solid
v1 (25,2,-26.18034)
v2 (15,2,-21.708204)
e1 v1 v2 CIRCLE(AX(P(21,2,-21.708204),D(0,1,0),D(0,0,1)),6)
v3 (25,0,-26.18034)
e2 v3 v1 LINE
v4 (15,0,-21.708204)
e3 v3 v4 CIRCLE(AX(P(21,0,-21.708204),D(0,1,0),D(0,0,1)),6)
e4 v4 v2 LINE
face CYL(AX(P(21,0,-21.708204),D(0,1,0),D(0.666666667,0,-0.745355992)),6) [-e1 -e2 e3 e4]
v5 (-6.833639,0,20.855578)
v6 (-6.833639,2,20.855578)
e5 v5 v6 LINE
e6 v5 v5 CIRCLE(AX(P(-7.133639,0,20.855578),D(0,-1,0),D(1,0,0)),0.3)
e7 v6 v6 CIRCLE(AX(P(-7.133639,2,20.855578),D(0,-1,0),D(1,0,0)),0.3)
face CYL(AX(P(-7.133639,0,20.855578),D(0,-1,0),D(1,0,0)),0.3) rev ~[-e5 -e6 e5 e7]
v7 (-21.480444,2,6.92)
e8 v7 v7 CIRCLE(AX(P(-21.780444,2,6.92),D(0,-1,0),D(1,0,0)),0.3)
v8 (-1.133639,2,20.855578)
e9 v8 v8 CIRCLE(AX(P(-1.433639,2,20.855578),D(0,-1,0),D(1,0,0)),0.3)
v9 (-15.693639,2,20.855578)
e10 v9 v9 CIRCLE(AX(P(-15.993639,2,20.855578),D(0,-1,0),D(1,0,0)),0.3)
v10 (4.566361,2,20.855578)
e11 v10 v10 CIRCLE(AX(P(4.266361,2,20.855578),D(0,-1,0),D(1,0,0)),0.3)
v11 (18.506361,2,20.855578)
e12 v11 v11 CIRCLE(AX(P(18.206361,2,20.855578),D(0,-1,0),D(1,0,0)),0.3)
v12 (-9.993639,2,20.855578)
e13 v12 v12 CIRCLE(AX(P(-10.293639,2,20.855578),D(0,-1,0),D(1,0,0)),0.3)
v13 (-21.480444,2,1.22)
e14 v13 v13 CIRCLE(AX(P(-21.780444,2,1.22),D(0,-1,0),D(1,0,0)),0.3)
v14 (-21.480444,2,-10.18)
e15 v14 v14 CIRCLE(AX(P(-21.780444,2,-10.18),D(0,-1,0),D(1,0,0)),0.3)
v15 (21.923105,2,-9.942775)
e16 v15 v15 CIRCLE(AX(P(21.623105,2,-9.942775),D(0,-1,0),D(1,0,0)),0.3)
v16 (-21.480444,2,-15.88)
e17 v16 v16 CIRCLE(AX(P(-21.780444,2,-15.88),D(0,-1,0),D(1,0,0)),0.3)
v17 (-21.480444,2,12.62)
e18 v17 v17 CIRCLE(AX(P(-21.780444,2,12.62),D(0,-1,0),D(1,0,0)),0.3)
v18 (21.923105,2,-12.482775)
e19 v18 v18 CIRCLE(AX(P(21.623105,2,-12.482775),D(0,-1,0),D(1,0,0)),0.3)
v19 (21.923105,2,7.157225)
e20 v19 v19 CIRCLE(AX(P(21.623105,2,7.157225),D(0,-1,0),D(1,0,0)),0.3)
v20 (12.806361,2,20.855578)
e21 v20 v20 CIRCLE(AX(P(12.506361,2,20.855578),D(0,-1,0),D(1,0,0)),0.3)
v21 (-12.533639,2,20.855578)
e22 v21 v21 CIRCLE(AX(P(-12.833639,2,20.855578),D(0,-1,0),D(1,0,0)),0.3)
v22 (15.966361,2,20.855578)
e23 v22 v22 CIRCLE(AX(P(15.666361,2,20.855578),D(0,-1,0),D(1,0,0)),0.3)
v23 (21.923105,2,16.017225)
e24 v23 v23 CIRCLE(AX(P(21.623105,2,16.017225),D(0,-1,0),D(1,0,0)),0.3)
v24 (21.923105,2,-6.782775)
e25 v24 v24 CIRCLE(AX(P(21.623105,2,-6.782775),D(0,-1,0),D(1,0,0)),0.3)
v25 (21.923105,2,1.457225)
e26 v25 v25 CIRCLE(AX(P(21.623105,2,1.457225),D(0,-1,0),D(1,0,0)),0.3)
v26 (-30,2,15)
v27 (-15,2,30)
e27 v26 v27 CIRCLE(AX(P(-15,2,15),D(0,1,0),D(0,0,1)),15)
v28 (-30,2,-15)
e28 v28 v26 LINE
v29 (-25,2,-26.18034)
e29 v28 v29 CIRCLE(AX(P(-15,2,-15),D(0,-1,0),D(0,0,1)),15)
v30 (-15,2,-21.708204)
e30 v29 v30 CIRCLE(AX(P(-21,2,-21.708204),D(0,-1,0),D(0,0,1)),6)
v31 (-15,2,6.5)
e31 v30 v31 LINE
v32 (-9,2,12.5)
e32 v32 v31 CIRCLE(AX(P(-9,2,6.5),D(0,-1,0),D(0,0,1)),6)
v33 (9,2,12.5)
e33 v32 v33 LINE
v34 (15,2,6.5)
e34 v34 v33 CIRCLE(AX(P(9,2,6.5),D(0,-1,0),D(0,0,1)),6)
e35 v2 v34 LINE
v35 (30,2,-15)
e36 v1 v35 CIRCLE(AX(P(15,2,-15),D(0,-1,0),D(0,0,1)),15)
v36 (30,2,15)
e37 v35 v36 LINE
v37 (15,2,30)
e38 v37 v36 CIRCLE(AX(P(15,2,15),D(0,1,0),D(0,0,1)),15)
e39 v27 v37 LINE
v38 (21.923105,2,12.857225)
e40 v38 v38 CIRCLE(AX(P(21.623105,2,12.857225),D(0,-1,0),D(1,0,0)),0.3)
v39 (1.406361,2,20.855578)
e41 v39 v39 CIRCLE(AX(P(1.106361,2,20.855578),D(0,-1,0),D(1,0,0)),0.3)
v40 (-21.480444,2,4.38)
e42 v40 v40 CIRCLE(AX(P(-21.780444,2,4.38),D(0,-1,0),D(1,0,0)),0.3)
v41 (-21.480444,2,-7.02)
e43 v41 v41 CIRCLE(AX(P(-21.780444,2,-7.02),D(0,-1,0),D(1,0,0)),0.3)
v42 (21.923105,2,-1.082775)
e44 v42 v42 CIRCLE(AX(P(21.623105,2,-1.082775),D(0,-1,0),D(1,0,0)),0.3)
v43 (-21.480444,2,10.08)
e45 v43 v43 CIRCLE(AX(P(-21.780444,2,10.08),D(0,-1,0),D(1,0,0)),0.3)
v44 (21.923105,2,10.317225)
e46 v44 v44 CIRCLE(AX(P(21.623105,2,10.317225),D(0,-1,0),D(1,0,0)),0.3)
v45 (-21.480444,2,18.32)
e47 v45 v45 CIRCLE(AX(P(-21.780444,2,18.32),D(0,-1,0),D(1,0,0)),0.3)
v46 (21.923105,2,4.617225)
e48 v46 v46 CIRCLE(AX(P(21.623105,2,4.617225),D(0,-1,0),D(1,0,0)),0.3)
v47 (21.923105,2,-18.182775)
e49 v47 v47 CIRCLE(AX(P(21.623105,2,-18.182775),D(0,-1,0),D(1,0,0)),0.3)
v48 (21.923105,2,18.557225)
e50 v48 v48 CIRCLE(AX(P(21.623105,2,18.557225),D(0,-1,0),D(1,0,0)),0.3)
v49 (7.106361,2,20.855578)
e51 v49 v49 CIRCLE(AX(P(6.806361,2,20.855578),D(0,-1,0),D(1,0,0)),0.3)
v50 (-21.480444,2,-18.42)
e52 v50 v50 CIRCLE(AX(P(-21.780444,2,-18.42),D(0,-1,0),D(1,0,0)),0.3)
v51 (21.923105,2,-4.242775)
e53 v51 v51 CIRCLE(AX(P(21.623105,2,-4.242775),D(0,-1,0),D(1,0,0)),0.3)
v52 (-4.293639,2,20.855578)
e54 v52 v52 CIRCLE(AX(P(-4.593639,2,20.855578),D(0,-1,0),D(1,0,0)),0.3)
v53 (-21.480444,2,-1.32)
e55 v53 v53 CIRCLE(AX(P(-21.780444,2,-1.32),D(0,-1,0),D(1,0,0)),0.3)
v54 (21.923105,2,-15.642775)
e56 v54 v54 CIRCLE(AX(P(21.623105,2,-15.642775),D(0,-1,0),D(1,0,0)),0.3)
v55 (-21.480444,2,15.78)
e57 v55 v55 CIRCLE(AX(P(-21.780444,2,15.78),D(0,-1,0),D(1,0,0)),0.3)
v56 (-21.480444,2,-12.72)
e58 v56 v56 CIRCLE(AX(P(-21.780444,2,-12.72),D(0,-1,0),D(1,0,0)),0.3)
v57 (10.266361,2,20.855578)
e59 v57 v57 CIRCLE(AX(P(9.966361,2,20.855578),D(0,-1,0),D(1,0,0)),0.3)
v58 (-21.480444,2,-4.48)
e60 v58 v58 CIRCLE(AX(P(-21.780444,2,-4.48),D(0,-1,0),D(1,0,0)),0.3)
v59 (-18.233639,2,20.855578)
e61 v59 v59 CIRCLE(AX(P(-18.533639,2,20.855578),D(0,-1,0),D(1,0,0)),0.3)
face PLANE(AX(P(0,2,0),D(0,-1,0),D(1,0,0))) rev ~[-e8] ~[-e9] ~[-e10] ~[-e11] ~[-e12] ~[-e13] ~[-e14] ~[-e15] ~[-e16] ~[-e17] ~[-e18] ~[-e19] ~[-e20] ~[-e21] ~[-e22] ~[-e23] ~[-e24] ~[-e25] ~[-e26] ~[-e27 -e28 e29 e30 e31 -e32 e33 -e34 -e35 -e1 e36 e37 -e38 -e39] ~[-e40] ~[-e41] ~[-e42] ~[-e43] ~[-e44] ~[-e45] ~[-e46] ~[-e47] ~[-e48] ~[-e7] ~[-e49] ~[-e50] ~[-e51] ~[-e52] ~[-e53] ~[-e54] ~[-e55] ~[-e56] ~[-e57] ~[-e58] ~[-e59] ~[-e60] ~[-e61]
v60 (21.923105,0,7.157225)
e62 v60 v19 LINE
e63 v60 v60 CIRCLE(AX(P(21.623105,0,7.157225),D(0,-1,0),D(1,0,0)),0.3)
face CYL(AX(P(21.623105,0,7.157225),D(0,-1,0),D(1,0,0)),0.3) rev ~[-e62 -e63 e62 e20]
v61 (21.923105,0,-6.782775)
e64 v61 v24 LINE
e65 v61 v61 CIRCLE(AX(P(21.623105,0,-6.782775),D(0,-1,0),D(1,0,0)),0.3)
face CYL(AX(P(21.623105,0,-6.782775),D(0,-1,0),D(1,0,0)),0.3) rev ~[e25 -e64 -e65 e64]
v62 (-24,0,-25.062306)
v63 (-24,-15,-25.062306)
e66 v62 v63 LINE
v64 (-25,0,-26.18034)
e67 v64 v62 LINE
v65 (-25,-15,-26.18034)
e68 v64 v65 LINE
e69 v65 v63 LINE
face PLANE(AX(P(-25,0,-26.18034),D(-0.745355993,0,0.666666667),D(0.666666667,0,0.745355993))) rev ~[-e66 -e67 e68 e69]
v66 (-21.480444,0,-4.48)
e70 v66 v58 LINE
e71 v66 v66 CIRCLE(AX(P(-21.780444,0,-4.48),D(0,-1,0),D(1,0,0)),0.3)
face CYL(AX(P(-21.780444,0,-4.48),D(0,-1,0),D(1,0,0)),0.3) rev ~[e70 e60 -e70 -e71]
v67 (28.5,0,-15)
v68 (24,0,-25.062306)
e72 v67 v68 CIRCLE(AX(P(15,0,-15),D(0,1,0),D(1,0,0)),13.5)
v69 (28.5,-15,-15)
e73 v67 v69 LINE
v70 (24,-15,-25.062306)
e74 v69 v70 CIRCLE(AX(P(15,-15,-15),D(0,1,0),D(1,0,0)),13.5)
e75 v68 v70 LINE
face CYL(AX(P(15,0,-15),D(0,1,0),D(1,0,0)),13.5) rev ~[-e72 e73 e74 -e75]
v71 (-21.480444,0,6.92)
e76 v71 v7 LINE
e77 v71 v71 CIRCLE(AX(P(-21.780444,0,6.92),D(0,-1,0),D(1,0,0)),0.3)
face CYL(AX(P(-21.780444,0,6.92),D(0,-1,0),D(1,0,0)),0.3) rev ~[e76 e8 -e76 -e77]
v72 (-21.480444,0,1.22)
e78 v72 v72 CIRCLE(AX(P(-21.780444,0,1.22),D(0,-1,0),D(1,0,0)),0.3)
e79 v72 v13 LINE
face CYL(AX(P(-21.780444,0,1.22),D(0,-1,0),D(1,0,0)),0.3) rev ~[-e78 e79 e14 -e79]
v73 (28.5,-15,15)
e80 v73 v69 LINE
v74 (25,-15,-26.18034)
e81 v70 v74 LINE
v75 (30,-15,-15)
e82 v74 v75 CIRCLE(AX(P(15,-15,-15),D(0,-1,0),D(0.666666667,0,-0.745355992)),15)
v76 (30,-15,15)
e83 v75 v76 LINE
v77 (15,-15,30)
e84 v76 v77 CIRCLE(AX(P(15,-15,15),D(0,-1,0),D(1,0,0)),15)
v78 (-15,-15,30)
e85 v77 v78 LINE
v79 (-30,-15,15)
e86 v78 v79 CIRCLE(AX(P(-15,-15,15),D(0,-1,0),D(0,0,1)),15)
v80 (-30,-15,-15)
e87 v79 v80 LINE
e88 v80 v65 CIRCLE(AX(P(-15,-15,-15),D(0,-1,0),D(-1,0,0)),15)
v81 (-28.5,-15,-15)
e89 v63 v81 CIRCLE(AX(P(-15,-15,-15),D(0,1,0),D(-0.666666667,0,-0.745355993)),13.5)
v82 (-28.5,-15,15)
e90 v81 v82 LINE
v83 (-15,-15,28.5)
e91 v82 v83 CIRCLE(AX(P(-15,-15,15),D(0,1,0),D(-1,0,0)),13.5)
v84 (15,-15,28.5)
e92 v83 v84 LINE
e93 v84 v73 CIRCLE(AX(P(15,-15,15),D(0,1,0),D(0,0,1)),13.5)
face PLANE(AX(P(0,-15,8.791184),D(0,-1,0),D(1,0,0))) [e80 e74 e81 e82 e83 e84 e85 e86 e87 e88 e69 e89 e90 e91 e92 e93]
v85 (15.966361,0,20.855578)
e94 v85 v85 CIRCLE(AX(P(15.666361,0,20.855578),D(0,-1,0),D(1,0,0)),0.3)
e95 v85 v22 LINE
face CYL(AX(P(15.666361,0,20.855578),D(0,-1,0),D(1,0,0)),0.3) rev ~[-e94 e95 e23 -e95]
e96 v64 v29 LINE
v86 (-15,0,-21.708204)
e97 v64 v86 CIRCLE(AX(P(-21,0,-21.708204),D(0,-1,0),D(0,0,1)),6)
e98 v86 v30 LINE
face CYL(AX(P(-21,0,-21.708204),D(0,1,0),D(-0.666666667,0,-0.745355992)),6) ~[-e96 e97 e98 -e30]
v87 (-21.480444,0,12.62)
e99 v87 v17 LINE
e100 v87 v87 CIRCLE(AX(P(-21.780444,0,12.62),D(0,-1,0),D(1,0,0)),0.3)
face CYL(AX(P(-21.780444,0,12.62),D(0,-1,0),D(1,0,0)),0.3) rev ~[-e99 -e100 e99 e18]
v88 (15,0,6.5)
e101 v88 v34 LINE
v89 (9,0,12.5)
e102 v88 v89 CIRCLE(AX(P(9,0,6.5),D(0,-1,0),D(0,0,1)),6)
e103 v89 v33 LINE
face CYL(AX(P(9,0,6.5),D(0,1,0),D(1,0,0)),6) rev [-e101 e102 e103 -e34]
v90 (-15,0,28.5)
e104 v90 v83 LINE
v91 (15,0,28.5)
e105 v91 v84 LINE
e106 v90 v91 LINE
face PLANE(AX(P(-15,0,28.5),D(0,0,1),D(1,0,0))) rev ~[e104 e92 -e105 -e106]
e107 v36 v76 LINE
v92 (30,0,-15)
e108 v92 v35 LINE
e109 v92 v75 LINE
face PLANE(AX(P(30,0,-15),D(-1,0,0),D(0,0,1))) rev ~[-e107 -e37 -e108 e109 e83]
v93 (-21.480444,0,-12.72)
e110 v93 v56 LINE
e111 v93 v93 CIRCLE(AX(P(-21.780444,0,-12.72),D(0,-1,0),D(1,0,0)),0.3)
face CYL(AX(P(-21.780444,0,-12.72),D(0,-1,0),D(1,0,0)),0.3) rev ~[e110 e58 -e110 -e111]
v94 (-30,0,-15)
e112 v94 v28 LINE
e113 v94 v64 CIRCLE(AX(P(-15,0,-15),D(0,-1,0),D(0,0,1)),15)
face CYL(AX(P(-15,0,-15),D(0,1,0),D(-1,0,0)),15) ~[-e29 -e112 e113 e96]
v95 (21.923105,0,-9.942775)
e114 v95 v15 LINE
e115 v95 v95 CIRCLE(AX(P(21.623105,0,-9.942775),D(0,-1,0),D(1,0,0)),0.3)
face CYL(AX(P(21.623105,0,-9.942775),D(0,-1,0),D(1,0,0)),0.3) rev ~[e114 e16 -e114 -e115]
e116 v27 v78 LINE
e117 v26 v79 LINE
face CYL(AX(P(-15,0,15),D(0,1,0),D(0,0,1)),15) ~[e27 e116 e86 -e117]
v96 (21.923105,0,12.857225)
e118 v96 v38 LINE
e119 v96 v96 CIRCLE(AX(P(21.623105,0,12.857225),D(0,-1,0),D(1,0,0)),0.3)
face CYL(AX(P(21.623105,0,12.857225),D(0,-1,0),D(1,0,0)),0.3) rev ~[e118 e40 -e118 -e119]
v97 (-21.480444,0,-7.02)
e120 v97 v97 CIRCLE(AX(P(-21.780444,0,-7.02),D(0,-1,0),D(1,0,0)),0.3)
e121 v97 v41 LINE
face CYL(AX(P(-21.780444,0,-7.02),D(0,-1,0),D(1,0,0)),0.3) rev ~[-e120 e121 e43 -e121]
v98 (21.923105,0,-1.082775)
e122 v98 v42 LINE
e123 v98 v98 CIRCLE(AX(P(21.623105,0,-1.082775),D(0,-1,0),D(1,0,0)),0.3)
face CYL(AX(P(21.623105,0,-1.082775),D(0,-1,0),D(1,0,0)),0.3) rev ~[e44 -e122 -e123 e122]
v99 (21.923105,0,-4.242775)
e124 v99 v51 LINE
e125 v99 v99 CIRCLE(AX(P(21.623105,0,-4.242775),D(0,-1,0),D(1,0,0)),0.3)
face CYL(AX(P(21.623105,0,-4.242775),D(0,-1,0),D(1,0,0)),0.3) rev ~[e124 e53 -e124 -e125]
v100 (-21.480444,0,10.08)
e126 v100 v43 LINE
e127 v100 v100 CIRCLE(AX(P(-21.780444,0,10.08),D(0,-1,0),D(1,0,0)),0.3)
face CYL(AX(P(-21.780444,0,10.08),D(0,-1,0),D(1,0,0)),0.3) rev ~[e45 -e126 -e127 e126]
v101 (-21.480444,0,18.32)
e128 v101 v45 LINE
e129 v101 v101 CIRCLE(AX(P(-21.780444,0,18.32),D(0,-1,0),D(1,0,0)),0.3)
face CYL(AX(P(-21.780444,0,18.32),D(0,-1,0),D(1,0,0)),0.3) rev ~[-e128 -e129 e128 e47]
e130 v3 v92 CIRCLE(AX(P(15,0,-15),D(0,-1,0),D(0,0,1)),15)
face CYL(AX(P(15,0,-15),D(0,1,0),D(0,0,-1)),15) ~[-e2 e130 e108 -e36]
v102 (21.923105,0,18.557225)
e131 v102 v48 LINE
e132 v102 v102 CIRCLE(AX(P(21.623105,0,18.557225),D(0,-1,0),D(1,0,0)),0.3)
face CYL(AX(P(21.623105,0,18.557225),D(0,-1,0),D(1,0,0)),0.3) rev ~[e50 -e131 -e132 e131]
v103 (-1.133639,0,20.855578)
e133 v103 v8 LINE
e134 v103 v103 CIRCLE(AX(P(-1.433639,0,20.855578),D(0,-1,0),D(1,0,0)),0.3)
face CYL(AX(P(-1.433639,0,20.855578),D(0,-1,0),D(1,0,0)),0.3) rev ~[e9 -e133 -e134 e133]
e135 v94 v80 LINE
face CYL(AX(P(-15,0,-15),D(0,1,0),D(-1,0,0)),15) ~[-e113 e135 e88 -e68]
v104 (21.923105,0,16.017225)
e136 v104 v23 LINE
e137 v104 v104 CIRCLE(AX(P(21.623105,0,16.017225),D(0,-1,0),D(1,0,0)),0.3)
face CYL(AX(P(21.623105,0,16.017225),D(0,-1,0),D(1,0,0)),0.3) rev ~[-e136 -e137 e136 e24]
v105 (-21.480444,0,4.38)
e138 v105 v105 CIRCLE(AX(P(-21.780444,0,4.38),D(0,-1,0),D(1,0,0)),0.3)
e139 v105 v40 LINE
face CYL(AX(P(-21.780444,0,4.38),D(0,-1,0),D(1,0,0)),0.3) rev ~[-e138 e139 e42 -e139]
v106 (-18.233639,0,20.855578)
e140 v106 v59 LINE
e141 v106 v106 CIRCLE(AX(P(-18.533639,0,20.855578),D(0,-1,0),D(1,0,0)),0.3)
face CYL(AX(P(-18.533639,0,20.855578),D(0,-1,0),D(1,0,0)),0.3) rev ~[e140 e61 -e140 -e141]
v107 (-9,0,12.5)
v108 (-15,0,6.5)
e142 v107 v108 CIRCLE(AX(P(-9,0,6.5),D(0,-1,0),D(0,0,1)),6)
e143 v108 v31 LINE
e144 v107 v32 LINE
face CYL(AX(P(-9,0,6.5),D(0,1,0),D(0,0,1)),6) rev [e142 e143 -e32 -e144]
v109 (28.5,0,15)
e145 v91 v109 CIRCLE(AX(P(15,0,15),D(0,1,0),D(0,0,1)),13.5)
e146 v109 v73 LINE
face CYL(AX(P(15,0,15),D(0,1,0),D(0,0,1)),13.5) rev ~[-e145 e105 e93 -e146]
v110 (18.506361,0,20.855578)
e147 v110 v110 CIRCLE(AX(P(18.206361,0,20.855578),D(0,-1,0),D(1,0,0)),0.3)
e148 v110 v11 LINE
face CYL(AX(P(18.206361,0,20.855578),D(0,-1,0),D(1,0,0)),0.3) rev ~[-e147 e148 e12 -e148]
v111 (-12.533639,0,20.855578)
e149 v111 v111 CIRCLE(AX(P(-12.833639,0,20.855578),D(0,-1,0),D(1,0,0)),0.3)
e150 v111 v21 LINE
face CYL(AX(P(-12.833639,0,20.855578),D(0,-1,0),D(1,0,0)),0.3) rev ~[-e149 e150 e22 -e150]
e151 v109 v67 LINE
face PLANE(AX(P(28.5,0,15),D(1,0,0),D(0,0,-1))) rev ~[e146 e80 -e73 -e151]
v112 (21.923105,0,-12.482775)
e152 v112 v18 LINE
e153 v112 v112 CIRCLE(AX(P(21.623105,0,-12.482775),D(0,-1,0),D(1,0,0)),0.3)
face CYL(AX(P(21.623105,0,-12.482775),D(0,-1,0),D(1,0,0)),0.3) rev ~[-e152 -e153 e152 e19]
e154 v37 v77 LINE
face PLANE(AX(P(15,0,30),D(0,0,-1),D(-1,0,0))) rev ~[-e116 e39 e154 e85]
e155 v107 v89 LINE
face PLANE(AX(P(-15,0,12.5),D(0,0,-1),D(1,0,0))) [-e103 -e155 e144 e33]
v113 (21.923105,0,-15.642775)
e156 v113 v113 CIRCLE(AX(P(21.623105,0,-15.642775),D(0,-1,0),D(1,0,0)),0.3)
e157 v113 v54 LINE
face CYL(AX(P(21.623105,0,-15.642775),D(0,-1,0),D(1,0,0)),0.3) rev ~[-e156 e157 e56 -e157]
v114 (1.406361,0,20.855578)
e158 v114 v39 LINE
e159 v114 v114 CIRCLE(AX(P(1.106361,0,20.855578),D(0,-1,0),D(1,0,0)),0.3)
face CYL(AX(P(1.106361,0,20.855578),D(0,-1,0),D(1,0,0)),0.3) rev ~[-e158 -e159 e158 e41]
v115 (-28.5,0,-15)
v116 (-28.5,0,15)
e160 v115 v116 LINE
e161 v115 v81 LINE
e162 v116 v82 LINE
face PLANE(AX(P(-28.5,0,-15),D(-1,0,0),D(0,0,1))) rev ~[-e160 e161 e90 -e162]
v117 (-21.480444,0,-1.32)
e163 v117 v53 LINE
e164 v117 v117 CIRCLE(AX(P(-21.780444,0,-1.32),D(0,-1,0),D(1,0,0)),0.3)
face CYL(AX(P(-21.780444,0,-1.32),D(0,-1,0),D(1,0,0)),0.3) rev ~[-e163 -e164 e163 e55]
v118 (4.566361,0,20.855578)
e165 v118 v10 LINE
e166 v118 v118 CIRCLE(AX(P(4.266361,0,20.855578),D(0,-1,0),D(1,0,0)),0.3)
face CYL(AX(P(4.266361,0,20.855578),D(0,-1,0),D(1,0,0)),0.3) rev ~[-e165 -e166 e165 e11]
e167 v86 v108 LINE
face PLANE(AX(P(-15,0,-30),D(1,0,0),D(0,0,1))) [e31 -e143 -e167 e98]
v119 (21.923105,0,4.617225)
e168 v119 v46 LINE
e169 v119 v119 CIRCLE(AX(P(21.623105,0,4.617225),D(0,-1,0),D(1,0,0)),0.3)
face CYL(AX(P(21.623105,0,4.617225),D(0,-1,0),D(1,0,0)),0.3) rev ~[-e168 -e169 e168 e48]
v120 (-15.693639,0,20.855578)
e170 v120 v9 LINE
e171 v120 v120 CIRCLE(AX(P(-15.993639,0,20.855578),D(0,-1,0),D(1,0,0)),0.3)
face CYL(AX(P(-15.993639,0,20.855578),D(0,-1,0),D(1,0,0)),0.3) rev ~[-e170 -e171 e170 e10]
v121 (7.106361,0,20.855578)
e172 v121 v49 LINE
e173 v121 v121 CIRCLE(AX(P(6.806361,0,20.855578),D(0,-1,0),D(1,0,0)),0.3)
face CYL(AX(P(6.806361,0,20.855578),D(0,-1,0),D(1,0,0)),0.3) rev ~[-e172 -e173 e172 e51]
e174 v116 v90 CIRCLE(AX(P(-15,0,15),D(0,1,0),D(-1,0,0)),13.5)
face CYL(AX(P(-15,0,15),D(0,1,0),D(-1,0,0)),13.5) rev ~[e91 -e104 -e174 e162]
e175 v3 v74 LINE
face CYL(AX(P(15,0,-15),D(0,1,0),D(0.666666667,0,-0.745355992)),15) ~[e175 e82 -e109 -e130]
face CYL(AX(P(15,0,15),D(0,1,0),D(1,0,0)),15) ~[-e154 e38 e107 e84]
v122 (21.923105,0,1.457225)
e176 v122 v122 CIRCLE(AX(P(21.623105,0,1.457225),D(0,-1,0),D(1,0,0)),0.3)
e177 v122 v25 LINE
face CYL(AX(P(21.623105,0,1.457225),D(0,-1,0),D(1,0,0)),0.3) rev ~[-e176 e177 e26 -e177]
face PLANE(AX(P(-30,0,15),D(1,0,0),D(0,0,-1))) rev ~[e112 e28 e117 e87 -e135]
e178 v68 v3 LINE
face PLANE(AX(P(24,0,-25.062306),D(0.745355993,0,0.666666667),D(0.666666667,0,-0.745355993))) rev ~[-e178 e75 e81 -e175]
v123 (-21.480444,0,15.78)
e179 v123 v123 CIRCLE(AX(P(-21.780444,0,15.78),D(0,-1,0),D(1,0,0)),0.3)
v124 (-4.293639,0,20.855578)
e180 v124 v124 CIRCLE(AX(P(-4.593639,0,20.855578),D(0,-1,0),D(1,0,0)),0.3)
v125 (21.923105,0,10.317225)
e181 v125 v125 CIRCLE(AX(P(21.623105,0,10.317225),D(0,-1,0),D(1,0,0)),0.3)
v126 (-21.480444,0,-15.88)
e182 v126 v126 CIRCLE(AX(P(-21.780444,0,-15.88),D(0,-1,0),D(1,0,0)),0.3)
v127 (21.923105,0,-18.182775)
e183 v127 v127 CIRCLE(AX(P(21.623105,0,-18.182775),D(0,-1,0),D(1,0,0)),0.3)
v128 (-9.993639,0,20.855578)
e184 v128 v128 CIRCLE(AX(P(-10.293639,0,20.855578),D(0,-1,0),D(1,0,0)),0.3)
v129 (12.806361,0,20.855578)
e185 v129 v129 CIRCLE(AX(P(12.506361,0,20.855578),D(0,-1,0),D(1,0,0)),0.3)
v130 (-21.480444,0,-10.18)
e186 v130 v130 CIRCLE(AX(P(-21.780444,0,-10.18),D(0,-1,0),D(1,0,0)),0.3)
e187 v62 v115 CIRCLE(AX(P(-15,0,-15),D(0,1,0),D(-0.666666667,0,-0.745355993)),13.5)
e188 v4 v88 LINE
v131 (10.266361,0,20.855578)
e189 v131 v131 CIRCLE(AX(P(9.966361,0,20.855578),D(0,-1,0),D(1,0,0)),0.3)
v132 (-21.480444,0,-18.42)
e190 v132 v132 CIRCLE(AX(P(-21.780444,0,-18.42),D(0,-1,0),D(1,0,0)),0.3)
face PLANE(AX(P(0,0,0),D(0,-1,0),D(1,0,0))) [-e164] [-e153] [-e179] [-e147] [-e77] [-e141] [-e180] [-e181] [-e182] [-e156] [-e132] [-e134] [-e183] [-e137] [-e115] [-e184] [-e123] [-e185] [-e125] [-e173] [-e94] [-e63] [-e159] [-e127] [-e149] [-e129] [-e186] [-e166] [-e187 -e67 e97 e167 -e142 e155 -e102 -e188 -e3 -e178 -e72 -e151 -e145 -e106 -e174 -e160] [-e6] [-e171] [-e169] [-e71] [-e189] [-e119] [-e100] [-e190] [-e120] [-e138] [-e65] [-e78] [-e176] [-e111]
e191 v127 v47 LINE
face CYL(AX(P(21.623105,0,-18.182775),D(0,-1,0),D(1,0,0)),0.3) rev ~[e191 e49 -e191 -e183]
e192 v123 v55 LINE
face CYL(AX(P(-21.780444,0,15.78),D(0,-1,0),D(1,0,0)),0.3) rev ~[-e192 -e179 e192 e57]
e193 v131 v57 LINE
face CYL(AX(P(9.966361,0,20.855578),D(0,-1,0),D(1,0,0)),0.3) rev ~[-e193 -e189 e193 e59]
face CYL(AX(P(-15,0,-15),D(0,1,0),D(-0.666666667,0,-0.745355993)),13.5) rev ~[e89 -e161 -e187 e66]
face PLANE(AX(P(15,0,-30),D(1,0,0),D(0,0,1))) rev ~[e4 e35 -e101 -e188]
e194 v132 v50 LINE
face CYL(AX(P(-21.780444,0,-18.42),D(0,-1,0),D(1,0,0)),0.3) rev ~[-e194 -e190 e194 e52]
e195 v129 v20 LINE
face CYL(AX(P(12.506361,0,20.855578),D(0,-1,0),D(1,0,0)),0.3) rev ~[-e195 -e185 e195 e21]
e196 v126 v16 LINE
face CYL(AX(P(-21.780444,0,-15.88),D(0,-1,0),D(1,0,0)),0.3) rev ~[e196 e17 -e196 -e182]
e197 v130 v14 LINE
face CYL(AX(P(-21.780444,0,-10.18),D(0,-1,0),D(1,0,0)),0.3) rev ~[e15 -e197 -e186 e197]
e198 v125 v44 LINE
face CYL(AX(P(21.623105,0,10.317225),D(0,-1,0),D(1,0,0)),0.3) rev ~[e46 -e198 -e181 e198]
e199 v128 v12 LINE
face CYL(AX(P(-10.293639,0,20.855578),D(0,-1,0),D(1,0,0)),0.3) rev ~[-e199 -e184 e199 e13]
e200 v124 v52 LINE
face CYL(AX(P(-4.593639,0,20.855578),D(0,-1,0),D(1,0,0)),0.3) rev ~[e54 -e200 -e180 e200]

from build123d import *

# Parameters (mm, degrees)
F1_W     = 60
F1_H     = 60
F2_DEPTH = 2
F0_R     = 0.3
F3_DEPTH = 2
F4_R     = 15
F5_W     = 30
F5_H     = 42.5
F6_DEPTH = 2
F7_R     = 6
F9_DEPTH = 15


with BuildPart() as f2:
    # F1 (on Front) → F2 (new body)
    with BuildSketch(Plane.XZ):
        Rectangle(F1_W, F1_H)
    extrude(amount=-F2_DEPTH)

    # F0 (on Front) → F3 (cut)
    with BuildSketch(Plane.XZ):
        with Locations((-21.7804442346, 18.32)):
            Circle(F0_R)
        with Locations((-21.7804442346, 15.78)):
            Circle(F0_R)
        with Locations((-21.7804442346, 12.62)):
            Circle(F0_R)
        with Locations((-21.7804442346, 10.08)):
            Circle(F0_R)
        with Locations((-21.7804442346, 6.92)):
            Circle(F0_R)
        with Locations((-21.7804442346, 4.38)):
            Circle(F0_R)
        with Locations((-21.7804442346, 1.22)):
            Circle(F0_R)
        with Locations((-21.7804442346, -1.32)):
            Circle(F0_R)
        with Locations((-21.7804442346, -4.48)):
            Circle(F0_R)
        with Locations((-21.7804442346, -7.02)):
            Circle(F0_R)
        with Locations((-21.7804442346, -10.18)):
            Circle(F0_R)
        with Locations((-21.7804442346, -12.72)):
            Circle(F0_R)
        with Locations((-21.7804442346, -15.88)):
            Circle(F0_R)
        with Locations((-21.7804442346, -18.42)):
            Circle(F0_R)
        with Locations((21.6231053323, 18.5572249132)):
            Circle(F0_R)
        with Locations((21.6231053323, 16.0172249132)):
            Circle(F0_R)
        with Locations((21.6231053323, 12.8572249132)):
            Circle(F0_R)
        with Locations((21.6231053323, 10.3172249132)):
            Circle(F0_R)
        with Locations((21.6231053323, 7.1572249132)):
            Circle(F0_R)
        with Locations((21.6231053323, 4.6172249132)):
            Circle(F0_R)
        with Locations((21.6231053323, 1.4572249132)):
            Circle(F0_R)
        with Locations((21.6231053323, -1.0827750868)):
            Circle(F0_R)
        with Locations((21.6231053323, -4.2427750868)):
            Circle(F0_R)
        with Locations((21.6231053323, -6.7827750868)):
            Circle(F0_R)
        with Locations((21.6231053323, -9.9427750868)):
            Circle(F0_R)
        with Locations((21.6231053323, -12.4827750868)):
            Circle(F0_R)
        with Locations((21.6231053323, -15.6427750868)):
            Circle(F0_R)
        with Locations((21.6231053323, -18.1827750868)):
            Circle(F0_R)
        with Locations((-18.5336389446, 20.8555777156)):
            Circle(F0_R)
        with Locations((-15.9936389446, 20.8555777156)):
            Circle(F0_R)
        with Locations((-12.8336389446, 20.8555777156)):
            Circle(F0_R)
        with Locations((-10.2936389446, 20.8555777156)):
            Circle(F0_R)
        with Locations((-7.1336389446, 20.8555777156)):
            Circle(F0_R)
        with Locations((-4.5936389446, 20.8555777156)):
            Circle(F0_R)
        with Locations((-1.4336389446, 20.8555777156)):
            Circle(F0_R)
        with Locations((1.1063610554, 20.8555777156)):
            Circle(F0_R)
        with Locations((4.2663610554, 20.8555777156)):
            Circle(F0_R)
        with Locations((6.8063610554, 20.8555777156)):
            Circle(F0_R)
        with Locations((9.9663610554, 20.8555777156)):
            Circle(F0_R)
        with Locations((12.5063610554, 20.8555777156)):
            Circle(F0_R)
        with Locations((15.6663610554, 20.8555777156)):
            Circle(F0_R)
        with Locations((18.2063610554, 20.8555777156)):
            Circle(F0_R)
    extrude(amount=-F3_DEPTH, mode=Mode.SUBTRACT)

    # F4
    f4_edges = [f2.edges().sort_by_distance(p)[0] for p in [
        (-30, 1, 30),
        (30, 1, 30),
        (30, 1, -30),
        (-30, 1, -30),
    ]]
    fillet(f4_edges, radius=F4_R)

    # F5 (on face) → F6 (cut)
    with BuildSketch(Plane.XZ):
        with Locations((0, -8.75)):
            Rectangle(F5_W, F5_H)
    extrude(amount=-F6_DEPTH, mode=Mode.SUBTRACT)

    # F7
    f7_edges = [f2.edges().sort_by_distance(p)[0] for p in [
        (15, 1, -30),
        (-15, 1, -30),
        (-15, 1, 12.5),
        (15, 1, 12.5),
    ]]
    fillet(f7_edges, radius=F7_R)

    # F8 (on face) → F9 (join)
    with BuildSketch(Plane.XZ):
        with BuildLine():
            ThreePointArc((-24, -25.0623058987), (-27.3237575439, -20.5113519213), (-28.5, -15))
            Line((-28.5, -15), (-28.5, 15))
            ThreePointArc((-28.5, 15), (-24.545941546, 24.545941546), (-15, 28.5))
            Line((-15, 28.5), (15, 28.5))
            ThreePointArc((15, 28.5), (24.545941546, 24.545941546), (28.5, 15))
            Line((28.5, 15), (28.5, -15))
            ThreePointArc((28.5, -15), (27.3237575439, -20.5113519213), (24, -25.0623058987))
            Line((24, -25.0623058987), (25, -26.1803398875))
            ThreePointArc((25, -26.1803398875), (28.6930639376, -21.123724357), (30, -15))
            Line((30, -15), (30, 15))
            ThreePointArc((30, 15), (25.6066017178, 25.6066017178), (15, 30))
            Line((15, 30), (-15, 30))
            ThreePointArc((-15, 30), (-25.6066017178, 25.6066017178), (-30, 15))
            Line((-30, 15), (-30, -15))
            ThreePointArc((-30, -15), (-28.6930639376, -21.123724357), (-25, -26.1803398875))
            Line((-25, -26.1803398875), (-24, -25.0623058987))
        make_face()
    extrude(amount=F9_DEPTH)


solid = f2.part
